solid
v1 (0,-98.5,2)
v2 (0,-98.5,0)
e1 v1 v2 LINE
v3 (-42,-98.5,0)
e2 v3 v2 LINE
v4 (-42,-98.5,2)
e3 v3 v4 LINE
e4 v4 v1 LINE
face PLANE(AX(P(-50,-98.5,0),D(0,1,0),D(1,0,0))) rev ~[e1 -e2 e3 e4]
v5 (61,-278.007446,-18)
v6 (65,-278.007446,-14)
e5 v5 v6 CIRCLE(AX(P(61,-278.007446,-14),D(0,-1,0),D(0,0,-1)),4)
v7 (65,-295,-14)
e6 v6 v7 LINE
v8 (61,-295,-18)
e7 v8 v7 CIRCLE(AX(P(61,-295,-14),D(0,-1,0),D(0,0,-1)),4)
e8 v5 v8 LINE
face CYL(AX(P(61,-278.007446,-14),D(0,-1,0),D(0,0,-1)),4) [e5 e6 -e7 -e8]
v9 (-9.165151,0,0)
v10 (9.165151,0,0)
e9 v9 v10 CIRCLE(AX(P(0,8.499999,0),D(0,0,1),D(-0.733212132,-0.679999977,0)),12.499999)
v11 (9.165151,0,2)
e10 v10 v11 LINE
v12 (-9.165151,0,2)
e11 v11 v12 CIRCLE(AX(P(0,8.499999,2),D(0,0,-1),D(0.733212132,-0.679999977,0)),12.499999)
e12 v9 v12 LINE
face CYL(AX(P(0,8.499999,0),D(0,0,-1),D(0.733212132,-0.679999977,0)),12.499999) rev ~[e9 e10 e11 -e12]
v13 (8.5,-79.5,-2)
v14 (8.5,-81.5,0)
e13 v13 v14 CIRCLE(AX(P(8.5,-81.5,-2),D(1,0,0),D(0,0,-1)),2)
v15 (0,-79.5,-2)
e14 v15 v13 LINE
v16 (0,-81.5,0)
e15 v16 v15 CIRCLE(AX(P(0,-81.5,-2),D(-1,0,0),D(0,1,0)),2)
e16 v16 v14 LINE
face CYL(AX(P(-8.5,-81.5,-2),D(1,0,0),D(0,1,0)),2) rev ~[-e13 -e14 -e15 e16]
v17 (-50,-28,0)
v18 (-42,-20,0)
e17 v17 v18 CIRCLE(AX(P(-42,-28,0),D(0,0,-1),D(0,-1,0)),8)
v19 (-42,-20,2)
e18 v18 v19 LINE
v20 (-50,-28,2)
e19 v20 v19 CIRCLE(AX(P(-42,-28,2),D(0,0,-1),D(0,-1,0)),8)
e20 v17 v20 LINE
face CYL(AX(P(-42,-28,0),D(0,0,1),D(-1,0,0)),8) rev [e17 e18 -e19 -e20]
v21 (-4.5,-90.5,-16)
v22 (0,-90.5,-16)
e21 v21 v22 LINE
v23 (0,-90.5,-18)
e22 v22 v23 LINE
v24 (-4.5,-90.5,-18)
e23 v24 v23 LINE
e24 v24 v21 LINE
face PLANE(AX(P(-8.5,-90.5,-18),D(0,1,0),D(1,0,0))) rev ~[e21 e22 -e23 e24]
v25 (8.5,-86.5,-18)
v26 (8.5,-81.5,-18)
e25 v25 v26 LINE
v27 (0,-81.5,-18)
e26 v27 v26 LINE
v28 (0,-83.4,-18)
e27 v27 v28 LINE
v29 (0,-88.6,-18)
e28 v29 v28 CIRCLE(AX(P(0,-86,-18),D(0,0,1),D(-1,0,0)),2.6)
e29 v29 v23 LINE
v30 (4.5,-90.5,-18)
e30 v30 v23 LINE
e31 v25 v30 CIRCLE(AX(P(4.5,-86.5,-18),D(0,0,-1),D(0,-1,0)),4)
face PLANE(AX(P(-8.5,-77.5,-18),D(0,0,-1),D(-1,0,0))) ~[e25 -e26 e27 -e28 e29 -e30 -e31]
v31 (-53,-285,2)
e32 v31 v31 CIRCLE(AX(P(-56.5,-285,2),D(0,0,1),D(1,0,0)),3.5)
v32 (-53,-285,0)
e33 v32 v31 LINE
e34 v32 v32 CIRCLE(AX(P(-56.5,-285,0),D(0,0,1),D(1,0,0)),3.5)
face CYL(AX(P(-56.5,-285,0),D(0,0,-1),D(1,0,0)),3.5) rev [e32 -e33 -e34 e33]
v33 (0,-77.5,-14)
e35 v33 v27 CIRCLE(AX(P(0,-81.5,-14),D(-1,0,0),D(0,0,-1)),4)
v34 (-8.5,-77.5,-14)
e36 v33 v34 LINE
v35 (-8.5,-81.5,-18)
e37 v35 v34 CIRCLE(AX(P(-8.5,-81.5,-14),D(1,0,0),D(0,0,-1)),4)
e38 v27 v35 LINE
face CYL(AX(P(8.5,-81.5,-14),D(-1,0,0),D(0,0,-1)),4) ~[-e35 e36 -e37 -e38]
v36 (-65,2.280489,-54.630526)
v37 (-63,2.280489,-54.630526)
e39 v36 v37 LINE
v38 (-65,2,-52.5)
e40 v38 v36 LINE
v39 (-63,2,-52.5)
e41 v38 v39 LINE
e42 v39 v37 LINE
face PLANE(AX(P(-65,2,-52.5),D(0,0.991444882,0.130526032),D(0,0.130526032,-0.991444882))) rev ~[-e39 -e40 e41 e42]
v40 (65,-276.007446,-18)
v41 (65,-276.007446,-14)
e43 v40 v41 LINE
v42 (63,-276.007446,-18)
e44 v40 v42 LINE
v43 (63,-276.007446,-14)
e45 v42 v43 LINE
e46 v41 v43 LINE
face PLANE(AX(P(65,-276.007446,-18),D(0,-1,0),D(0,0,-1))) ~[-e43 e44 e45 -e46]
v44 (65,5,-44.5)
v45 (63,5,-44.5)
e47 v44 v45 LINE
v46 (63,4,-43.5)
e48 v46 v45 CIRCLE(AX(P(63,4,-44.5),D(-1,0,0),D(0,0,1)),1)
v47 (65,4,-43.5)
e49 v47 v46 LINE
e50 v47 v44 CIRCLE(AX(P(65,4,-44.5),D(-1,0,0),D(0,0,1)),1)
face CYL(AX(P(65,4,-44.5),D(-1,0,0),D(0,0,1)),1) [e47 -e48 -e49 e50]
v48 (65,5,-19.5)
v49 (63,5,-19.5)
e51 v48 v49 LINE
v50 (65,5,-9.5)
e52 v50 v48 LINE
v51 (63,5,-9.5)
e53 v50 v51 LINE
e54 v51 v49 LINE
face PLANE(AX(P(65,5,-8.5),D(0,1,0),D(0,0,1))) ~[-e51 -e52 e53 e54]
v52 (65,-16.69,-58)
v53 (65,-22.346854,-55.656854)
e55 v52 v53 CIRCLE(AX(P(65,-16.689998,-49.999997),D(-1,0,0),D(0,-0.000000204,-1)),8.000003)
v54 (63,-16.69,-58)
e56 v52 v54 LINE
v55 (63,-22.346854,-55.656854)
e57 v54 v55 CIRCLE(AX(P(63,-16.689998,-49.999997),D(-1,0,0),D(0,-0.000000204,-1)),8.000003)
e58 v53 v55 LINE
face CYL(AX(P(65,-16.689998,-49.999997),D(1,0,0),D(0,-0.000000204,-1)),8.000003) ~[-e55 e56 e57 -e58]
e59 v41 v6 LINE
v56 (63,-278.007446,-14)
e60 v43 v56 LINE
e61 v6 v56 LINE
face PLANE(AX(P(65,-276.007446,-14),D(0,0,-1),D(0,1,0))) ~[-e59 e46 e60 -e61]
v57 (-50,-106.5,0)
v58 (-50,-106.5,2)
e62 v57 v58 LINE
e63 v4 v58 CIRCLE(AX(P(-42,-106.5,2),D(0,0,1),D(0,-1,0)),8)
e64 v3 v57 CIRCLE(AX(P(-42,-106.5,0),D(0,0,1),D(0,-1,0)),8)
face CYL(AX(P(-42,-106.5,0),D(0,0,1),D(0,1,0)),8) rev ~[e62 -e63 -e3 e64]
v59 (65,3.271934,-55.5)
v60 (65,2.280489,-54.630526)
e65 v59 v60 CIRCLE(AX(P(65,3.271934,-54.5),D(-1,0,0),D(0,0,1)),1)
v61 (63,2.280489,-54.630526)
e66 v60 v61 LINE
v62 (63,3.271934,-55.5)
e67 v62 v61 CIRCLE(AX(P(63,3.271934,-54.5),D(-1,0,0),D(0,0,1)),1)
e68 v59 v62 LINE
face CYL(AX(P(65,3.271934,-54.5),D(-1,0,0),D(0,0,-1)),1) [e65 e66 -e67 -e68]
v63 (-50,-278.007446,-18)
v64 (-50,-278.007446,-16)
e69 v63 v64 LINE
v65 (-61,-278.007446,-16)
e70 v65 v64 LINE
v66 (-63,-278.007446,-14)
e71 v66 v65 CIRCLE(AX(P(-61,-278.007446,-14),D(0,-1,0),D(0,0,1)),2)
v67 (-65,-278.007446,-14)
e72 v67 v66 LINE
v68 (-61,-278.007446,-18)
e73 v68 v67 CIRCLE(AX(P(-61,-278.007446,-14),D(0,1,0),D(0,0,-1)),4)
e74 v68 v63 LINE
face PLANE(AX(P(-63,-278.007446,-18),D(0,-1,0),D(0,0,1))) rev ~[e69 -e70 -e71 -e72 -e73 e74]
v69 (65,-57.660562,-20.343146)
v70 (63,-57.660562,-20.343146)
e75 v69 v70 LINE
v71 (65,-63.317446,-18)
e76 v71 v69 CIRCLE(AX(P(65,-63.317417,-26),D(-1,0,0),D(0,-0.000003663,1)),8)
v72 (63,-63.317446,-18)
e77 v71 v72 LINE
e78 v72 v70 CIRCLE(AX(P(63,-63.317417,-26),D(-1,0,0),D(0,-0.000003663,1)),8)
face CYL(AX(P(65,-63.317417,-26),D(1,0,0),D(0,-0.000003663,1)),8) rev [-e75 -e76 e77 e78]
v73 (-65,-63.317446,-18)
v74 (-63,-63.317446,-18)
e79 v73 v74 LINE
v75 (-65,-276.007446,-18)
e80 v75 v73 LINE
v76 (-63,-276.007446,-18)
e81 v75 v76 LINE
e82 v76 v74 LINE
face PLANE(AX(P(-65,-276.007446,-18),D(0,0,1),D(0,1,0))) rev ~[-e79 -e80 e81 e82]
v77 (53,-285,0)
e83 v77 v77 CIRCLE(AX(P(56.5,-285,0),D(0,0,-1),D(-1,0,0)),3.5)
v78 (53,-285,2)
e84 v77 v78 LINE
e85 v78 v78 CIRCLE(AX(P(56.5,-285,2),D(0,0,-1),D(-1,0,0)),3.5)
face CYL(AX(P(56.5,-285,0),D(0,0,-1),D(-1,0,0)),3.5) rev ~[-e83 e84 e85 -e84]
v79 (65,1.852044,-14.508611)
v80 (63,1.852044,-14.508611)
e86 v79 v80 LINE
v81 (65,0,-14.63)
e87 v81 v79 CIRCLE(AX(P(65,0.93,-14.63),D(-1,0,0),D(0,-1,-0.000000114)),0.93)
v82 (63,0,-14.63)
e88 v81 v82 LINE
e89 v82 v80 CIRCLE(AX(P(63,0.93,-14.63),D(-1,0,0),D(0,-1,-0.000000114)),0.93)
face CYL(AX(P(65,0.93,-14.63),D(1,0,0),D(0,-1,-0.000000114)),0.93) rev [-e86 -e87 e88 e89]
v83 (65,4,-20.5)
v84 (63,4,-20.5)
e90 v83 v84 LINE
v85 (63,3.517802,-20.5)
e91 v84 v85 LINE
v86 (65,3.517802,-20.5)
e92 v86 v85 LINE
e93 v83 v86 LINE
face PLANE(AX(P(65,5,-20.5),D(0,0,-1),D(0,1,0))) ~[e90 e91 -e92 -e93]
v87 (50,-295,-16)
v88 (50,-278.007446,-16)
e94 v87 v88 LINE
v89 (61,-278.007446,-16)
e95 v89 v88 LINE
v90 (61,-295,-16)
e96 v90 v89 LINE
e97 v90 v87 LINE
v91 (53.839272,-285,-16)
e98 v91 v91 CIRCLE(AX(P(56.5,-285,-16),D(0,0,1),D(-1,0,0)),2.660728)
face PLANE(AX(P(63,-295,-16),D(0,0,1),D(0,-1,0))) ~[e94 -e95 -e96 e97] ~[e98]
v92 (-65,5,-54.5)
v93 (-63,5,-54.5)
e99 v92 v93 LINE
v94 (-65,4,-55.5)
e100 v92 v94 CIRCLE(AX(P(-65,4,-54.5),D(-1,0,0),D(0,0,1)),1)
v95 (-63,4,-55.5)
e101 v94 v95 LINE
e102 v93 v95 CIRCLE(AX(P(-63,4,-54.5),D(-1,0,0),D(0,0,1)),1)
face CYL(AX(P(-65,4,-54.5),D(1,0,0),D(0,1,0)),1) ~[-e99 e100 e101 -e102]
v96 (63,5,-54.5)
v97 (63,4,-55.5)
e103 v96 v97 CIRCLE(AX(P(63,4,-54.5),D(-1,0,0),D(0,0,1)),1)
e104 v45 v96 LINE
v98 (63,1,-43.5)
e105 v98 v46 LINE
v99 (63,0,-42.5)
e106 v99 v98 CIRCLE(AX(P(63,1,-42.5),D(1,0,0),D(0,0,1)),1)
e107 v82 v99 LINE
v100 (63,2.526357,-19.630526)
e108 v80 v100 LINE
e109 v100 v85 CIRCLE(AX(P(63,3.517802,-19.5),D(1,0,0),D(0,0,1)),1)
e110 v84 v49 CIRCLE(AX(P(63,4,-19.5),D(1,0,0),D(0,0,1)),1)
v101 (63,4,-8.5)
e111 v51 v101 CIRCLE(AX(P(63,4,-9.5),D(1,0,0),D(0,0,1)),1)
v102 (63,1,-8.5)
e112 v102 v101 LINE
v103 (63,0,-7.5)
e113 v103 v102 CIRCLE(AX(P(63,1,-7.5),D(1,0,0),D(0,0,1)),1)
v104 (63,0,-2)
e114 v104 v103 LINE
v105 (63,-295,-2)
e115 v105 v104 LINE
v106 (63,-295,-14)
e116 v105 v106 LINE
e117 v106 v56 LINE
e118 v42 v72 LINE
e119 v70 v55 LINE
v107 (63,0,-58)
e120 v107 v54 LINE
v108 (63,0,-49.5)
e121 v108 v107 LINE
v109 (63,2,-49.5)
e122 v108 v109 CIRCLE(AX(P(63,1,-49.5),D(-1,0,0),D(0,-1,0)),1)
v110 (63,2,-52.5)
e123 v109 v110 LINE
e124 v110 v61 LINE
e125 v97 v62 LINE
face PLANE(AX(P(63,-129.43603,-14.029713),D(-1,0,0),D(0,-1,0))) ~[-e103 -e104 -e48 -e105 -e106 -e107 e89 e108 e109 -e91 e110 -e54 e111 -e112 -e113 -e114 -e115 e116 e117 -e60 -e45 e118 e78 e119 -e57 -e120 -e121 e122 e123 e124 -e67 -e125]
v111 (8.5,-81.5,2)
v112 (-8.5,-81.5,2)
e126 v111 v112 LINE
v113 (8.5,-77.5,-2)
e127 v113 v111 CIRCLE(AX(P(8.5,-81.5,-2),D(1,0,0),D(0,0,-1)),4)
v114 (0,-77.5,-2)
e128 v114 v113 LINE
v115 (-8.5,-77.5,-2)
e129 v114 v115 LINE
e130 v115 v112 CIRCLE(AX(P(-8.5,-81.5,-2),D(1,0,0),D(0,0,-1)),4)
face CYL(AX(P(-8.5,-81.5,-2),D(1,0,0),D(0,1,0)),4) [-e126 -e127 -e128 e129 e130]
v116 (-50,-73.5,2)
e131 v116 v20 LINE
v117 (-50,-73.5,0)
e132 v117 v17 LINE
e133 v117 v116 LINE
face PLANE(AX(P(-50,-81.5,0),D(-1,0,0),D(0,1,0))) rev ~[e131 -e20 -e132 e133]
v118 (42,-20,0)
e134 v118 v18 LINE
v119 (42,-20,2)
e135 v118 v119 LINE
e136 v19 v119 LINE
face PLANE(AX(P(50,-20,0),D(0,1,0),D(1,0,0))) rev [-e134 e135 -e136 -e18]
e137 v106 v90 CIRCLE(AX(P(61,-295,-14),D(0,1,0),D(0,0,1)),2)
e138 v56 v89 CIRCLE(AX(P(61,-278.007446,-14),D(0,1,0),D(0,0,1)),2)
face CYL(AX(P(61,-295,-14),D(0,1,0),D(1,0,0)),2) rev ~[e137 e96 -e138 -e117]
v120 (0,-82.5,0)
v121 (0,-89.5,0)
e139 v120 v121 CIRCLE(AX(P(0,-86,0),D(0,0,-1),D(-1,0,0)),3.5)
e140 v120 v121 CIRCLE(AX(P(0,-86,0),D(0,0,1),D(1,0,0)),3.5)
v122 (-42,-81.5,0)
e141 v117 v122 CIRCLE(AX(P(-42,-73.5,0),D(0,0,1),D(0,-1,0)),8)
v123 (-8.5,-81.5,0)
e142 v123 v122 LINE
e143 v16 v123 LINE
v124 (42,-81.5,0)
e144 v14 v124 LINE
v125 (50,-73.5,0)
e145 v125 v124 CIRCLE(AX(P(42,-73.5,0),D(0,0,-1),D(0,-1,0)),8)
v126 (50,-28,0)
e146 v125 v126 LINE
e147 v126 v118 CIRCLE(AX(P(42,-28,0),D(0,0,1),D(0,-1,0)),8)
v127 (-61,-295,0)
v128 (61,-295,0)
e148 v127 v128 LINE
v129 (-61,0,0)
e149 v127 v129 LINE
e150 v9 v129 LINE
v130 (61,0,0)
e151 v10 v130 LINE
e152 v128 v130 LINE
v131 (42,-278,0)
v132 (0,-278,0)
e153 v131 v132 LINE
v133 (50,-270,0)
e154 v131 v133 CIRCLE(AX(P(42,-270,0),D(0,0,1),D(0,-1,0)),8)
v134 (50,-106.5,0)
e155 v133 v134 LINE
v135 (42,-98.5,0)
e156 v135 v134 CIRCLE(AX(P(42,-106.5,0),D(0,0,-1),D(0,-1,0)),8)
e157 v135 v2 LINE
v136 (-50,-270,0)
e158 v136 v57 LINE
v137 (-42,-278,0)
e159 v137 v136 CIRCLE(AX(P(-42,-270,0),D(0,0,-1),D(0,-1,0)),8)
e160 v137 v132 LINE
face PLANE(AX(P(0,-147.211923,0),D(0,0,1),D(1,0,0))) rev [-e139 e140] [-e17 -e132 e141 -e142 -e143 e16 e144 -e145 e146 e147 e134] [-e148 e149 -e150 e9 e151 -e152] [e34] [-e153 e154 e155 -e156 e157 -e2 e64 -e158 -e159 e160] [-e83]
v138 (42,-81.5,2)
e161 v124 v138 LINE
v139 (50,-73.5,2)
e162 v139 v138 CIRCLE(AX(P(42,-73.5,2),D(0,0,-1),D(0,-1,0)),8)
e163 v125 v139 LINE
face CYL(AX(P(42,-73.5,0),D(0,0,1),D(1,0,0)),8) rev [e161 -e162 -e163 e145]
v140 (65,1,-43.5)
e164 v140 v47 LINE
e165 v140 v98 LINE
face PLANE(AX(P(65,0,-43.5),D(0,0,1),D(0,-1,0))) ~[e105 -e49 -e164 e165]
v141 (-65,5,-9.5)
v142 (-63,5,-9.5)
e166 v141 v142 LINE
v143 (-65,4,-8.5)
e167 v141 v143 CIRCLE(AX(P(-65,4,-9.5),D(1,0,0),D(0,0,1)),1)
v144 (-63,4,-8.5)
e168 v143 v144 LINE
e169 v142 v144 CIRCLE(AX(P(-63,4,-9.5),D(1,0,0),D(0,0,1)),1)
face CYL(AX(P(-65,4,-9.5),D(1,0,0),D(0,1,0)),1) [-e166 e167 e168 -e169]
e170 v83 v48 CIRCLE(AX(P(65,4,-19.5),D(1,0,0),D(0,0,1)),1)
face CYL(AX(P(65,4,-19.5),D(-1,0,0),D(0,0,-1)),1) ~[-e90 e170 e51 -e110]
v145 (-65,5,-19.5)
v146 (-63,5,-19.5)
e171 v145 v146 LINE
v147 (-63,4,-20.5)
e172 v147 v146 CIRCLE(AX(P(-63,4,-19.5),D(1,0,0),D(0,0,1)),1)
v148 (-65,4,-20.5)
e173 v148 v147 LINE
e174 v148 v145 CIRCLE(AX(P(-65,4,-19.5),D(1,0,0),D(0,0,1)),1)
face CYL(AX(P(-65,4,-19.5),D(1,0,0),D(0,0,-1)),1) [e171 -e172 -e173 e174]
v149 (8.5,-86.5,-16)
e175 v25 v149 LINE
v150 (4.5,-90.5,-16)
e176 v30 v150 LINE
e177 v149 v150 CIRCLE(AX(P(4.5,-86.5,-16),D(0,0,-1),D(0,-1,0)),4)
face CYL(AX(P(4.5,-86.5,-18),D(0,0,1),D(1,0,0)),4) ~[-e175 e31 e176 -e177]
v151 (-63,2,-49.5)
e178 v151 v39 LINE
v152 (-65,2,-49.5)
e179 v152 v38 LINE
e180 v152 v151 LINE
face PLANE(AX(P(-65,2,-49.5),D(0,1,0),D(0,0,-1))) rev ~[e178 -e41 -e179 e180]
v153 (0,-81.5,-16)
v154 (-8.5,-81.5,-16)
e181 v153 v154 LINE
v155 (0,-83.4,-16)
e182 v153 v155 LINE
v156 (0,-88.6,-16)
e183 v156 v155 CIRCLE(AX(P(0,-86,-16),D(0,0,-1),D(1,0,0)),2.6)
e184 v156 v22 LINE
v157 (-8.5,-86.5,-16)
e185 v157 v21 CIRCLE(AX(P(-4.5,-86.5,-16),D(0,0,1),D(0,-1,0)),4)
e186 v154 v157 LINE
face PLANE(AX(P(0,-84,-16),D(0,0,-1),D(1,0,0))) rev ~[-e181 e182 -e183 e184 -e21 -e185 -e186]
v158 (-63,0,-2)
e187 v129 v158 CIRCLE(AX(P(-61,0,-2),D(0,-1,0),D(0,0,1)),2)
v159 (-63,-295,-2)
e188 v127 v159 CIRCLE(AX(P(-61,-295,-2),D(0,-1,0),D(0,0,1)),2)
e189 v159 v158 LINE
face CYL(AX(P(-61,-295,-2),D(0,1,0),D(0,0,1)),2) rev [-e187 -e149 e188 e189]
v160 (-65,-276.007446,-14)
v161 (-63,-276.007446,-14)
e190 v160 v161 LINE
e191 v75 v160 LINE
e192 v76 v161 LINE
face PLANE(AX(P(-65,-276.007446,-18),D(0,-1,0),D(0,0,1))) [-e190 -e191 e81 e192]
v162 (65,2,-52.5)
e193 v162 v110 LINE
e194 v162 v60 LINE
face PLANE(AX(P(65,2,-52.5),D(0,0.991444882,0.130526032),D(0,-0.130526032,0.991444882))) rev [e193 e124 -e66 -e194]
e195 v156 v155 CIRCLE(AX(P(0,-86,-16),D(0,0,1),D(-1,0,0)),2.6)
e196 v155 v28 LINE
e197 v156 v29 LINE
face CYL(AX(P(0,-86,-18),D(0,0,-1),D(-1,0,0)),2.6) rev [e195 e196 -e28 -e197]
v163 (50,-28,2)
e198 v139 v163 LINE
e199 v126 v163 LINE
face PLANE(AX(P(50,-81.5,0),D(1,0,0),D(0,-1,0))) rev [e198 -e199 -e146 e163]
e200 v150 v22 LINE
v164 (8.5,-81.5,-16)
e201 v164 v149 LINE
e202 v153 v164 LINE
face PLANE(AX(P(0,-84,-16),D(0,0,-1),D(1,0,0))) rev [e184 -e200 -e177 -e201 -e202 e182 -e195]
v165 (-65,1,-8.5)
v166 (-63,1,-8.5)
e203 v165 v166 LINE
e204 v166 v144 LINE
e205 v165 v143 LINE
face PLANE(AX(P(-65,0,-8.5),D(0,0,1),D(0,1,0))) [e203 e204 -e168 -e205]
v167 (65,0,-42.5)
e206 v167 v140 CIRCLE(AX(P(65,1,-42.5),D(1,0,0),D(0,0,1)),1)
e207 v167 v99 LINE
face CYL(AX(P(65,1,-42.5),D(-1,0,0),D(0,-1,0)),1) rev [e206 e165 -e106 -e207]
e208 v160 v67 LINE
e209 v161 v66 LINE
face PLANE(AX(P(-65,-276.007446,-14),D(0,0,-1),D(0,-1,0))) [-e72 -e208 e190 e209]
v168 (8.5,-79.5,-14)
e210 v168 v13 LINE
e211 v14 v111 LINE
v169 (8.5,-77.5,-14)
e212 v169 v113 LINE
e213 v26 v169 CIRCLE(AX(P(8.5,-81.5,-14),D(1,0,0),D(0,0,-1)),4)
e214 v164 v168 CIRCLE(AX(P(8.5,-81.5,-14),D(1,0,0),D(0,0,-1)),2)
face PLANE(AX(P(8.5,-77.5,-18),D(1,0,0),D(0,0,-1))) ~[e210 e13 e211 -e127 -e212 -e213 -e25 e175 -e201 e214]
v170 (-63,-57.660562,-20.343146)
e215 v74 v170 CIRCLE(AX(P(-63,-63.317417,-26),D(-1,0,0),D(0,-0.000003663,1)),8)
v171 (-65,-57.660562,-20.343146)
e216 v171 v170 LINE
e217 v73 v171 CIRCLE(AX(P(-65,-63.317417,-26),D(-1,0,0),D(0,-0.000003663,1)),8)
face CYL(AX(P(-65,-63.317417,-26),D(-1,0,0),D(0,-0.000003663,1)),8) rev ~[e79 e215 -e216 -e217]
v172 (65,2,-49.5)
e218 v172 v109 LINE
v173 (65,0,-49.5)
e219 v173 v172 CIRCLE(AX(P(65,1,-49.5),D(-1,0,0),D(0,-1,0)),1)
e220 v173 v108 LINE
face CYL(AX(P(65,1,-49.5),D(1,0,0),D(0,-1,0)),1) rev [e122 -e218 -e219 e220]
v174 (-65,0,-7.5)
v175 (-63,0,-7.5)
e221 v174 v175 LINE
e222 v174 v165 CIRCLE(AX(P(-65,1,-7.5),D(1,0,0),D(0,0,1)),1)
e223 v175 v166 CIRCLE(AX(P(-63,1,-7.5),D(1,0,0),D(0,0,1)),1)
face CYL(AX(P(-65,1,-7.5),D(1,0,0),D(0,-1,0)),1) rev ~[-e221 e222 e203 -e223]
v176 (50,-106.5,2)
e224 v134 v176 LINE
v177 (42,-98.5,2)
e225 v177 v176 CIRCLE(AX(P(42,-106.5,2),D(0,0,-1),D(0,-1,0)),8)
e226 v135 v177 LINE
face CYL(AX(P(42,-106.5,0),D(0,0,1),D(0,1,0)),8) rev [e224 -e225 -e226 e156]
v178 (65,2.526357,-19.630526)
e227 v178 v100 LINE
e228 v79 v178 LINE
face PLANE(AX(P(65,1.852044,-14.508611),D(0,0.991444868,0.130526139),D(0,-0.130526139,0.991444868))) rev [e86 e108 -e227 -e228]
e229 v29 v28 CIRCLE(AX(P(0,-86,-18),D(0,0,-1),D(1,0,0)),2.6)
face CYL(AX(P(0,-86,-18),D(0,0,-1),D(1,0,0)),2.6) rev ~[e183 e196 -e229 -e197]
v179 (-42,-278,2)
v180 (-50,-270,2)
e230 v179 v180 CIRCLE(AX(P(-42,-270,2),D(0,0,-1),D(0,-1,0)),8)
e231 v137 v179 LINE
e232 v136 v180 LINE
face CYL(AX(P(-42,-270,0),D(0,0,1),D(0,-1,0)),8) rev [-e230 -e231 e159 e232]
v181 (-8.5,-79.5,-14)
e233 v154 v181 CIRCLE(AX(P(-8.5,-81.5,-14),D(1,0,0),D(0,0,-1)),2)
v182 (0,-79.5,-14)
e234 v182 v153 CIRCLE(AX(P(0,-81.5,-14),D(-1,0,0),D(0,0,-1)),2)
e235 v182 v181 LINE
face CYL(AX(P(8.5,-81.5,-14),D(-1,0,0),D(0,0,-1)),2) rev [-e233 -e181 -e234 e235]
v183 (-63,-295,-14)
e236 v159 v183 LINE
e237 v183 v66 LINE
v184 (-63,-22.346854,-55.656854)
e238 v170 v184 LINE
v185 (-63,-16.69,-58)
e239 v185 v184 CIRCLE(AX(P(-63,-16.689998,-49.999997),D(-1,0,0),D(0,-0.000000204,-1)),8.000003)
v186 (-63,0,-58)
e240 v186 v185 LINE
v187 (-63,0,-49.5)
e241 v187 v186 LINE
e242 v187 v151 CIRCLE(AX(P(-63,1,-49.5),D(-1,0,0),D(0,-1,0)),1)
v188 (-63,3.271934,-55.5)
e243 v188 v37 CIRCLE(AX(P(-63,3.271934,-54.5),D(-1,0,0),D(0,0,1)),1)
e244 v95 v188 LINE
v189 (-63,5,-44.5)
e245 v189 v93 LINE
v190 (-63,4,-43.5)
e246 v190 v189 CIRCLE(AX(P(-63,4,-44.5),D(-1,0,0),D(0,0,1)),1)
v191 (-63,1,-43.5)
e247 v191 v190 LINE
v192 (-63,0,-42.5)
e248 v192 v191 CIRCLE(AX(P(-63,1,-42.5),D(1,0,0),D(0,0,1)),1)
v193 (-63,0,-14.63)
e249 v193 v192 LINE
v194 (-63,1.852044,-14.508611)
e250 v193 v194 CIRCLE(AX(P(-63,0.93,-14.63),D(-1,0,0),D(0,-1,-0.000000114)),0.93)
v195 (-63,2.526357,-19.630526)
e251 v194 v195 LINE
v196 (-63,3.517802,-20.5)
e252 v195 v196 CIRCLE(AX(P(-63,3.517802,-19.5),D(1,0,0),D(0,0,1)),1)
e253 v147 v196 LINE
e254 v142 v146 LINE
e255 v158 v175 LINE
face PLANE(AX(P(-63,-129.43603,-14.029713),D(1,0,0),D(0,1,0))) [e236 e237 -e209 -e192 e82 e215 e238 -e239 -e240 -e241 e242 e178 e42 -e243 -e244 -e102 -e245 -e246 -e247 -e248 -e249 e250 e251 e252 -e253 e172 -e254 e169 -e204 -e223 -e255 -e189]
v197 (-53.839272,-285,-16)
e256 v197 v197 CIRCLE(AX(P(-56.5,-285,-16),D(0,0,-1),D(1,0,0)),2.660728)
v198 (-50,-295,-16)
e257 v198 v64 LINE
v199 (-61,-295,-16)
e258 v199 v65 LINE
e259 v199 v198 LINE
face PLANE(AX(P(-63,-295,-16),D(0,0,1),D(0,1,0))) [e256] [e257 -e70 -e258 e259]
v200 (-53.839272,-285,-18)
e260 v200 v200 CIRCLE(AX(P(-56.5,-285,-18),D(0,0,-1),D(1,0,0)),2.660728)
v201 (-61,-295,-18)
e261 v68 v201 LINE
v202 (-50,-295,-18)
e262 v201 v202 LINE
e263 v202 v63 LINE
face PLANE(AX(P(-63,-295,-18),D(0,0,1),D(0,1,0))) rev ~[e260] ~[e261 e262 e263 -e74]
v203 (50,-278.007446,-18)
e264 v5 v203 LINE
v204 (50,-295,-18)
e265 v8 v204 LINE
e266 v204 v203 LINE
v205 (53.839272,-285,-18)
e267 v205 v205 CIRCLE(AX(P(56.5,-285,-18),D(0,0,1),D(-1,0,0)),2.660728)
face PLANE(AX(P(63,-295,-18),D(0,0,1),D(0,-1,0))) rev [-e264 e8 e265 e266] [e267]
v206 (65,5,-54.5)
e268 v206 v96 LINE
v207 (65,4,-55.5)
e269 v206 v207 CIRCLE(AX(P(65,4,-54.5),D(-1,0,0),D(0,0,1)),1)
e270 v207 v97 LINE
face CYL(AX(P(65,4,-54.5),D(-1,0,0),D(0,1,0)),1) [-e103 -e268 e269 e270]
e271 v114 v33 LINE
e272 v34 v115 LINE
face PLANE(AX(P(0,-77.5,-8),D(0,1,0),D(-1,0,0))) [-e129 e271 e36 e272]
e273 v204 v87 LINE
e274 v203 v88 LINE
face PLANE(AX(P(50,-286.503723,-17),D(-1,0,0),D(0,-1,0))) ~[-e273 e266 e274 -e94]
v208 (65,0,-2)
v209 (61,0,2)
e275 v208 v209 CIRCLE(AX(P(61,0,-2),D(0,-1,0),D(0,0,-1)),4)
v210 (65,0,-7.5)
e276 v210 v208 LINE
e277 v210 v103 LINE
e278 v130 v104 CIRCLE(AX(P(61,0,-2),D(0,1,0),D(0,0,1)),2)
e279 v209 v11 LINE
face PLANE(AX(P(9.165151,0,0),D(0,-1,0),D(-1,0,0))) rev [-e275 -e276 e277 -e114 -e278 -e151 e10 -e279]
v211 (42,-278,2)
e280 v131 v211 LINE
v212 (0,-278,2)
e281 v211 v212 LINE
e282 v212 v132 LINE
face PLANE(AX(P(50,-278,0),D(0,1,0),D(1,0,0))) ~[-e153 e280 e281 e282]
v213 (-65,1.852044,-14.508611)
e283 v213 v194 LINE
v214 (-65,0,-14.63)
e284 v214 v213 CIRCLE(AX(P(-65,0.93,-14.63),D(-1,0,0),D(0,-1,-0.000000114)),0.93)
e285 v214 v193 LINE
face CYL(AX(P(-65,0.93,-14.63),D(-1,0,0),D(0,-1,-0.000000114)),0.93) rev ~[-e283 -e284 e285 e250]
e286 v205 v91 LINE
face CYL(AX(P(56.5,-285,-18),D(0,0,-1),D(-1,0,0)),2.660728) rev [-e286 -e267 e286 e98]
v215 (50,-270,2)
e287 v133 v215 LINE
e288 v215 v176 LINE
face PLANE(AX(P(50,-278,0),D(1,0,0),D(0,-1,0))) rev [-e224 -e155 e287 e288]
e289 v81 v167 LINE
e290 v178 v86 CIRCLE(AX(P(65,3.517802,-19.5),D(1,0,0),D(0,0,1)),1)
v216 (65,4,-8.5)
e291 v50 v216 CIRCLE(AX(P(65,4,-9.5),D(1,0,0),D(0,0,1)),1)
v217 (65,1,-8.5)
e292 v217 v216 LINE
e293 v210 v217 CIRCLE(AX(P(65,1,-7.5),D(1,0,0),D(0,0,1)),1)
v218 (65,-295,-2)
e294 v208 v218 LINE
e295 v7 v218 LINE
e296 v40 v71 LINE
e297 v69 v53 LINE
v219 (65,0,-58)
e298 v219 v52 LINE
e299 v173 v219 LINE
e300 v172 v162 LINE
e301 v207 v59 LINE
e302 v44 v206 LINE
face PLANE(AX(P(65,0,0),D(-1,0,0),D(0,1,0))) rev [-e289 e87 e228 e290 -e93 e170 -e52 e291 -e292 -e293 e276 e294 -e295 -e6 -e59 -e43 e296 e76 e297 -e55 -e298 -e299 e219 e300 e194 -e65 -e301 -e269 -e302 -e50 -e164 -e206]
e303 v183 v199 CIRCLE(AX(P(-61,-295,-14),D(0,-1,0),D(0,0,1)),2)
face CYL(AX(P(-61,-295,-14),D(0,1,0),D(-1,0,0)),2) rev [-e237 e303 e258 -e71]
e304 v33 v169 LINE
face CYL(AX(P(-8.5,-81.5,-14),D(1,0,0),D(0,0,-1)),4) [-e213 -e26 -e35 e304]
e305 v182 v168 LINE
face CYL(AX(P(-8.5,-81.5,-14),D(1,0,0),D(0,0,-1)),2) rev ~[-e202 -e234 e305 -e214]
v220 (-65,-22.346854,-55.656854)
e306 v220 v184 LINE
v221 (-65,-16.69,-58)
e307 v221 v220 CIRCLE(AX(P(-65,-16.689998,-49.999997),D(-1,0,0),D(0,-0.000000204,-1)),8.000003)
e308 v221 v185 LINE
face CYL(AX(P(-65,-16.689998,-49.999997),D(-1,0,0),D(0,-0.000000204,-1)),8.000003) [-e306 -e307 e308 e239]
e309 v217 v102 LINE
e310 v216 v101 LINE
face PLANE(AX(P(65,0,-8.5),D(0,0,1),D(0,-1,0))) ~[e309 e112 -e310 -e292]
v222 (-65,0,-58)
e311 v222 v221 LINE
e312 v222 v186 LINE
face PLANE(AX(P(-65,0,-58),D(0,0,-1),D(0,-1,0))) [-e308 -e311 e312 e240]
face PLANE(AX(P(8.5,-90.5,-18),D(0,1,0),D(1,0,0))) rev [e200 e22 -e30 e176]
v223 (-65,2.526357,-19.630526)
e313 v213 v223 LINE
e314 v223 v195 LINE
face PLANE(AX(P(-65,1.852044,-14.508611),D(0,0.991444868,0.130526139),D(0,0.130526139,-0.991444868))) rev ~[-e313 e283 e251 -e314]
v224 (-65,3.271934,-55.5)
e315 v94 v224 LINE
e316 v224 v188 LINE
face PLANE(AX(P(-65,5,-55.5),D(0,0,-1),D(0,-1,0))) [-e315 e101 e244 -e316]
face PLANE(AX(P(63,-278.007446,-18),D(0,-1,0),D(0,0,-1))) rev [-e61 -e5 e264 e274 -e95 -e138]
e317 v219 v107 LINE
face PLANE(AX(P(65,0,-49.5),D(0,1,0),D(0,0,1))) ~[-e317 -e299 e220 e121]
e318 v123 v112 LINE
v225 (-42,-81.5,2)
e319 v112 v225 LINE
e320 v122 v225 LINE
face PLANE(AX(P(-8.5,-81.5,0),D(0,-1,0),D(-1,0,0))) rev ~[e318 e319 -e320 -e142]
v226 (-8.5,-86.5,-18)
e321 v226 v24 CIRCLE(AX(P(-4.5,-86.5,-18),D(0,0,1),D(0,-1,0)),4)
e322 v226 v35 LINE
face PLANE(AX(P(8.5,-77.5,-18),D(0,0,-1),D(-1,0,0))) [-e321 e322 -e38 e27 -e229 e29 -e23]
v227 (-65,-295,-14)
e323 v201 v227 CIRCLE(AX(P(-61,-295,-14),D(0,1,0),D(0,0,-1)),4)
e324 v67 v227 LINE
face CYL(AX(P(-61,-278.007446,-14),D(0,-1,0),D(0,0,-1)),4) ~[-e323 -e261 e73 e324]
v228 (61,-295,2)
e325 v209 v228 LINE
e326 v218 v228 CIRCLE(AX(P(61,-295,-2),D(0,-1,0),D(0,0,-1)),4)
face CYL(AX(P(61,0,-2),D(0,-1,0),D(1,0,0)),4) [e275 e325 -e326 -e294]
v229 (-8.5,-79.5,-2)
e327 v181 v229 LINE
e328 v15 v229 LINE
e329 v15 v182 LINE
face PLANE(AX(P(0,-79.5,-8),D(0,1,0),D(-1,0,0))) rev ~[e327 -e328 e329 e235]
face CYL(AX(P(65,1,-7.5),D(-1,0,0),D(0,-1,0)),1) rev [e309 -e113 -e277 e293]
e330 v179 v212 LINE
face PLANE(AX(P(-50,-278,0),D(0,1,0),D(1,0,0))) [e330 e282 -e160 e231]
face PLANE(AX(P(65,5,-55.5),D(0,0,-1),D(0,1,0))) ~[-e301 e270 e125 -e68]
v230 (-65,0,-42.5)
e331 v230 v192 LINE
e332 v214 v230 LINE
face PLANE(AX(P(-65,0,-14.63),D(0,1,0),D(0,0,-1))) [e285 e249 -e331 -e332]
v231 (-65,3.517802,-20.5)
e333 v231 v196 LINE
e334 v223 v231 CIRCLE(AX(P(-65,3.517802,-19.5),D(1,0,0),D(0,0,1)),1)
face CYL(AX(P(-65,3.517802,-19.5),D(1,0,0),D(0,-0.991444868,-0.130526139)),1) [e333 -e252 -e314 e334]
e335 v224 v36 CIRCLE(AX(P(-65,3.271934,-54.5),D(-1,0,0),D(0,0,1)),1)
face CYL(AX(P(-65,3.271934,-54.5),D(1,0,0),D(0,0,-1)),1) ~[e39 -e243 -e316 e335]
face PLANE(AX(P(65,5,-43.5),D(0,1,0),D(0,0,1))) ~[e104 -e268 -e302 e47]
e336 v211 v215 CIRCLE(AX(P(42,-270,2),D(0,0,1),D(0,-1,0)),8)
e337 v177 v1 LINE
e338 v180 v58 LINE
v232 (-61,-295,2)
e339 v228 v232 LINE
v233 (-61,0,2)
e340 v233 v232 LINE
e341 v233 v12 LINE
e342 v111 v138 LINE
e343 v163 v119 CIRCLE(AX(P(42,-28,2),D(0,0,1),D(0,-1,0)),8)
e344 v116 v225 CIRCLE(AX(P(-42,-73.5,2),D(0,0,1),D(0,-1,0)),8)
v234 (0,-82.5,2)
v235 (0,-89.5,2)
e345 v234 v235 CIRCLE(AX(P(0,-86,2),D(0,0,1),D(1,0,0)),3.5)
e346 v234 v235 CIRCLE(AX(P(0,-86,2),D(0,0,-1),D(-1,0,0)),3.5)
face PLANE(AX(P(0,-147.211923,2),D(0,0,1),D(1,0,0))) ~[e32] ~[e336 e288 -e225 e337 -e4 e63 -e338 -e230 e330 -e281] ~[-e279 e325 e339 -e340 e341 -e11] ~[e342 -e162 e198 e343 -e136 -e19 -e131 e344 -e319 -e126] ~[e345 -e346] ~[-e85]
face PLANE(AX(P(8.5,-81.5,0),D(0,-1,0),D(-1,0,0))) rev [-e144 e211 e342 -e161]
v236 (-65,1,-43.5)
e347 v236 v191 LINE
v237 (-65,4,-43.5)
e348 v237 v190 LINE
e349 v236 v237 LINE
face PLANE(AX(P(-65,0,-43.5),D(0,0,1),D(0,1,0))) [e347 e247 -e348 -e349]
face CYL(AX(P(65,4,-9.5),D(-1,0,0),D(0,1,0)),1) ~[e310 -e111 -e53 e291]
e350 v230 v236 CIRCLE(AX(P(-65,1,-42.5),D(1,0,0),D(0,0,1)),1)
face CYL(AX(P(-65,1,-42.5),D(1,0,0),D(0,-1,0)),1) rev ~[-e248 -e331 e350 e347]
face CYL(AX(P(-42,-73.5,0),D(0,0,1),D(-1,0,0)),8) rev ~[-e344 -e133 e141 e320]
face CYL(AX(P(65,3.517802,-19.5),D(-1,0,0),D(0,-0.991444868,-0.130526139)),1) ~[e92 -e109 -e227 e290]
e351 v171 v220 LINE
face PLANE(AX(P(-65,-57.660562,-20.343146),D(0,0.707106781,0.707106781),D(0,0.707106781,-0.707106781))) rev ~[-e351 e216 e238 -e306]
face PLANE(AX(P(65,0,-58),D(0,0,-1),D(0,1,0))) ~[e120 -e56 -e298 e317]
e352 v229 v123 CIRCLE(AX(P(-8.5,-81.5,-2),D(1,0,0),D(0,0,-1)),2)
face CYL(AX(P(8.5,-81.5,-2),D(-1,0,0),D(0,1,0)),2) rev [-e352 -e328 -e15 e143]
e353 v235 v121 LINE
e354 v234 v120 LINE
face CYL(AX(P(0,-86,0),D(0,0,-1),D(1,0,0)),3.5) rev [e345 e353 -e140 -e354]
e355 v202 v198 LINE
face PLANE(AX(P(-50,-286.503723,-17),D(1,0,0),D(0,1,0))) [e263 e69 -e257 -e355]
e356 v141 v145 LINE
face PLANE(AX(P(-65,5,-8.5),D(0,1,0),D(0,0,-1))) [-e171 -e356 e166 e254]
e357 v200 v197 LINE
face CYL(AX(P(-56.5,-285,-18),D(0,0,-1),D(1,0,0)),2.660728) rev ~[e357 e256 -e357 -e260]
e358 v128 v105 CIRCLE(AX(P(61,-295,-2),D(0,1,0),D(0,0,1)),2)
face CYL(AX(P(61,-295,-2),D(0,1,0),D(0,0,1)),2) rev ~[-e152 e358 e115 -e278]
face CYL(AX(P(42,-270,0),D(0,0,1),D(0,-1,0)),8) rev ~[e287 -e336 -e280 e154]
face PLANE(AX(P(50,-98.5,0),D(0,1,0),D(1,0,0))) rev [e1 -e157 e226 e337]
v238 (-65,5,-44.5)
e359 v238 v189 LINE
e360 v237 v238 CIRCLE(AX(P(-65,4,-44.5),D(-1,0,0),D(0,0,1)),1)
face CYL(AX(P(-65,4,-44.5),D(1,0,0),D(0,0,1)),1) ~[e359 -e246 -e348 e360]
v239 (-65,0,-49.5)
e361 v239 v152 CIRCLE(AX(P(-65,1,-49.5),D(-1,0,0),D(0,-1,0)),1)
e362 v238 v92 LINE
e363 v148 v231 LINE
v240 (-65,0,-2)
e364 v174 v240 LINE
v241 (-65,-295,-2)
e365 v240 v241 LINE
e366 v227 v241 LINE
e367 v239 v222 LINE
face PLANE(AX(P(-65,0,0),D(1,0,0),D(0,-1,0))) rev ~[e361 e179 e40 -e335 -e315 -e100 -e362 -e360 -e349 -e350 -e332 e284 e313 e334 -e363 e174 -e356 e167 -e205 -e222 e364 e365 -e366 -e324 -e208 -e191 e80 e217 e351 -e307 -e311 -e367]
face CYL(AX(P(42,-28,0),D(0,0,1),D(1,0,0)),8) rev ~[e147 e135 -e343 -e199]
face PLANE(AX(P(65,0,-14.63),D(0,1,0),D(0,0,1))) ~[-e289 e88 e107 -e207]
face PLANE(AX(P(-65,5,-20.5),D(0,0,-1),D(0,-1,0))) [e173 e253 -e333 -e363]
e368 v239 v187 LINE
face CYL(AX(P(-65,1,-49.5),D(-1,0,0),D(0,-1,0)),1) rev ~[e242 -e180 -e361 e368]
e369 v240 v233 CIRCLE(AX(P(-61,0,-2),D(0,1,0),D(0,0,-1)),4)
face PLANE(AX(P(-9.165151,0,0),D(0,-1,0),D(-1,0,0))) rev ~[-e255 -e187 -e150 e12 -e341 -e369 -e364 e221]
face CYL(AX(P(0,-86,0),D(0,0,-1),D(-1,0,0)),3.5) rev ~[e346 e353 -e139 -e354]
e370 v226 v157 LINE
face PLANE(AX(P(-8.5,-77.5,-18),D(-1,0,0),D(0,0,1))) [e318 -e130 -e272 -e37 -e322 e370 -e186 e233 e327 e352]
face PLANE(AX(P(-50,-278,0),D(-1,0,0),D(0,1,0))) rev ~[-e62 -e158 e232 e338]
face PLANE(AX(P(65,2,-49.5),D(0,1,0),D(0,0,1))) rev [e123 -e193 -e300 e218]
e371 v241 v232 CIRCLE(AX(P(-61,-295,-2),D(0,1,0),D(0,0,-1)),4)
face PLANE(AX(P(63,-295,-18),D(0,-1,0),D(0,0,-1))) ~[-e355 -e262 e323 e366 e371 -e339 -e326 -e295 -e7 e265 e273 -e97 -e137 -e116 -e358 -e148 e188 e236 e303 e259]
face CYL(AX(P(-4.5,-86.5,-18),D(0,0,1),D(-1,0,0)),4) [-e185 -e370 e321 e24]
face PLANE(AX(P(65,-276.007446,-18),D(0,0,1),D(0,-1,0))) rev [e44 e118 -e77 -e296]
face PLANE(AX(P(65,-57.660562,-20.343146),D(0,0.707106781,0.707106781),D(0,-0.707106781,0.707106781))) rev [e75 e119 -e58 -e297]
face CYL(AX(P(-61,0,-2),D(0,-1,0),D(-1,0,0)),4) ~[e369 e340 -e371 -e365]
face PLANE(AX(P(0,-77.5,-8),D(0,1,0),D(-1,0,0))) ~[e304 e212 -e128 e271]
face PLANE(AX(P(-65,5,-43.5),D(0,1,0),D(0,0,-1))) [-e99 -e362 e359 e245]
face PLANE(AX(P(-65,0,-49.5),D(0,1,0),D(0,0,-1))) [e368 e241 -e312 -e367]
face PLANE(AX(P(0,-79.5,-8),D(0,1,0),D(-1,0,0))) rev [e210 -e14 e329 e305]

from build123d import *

# Parameters (mm, degrees)
SKETCH006_W  = 320
SKETCH006_H  = 150
PAD005_DEPTH = 70
SKETCH_R     = 3.5
SKETCH_W     = 100
SKETCH_H     = 179.5
PAD_DEPTH    = 2
FILLET_R     = 8
SKETCH001_W  = 17
SKETCH001_H  = 20
PAD001_DEPTH = 2
SKETCH002_W  = 17
SKETCH002_H  = 13
SKETCH002_R  = 2.6
PAD002_DEPTH = 2
FILLET001_R  = 4
FILLET002_R  = 4
FILLET003_R  = 2
PAD003_DEPTH = 2
FILLET004_R  = 1
FILLET005_R  = 1
SKETCH004_W  = 16.992554
SKETCH004_H  = 2
PAD004_DEPTH = 13
FILLET006_R  = 2
FILLET007_R  = 4
SKETCH005_R  = 2.660728
POCKET_DEPTH = 5


with BuildPart() as pad005:
    # Sketch006 → Pad005 (new body)
    with BuildSketch(Plane.YZ):
        with Locations((-150, -15)):
            Rectangle(SKETCH006_W, SKETCH006_H)
    extrude(amount=PAD005_DEPTH)


with BuildPart() as cut:
    # Sketch → Pad (new body)
    with BuildSketch(Plane.XY):
        with BuildLine():
            Line((-65, 0), (-65, -295))
            Line((-65, -295), (65, -295))
            Line((65, -295), (65, 0))
            Line((9.165151, 0), (65, 0))
            ThreePointArc((-9.165151, 0), (0, -4), (9.165151, 0))
            Line((-9.165151, 0), (-65, 0))
        make_face()
        with Locations((0, -86)):
            Circle(SKETCH_R, mode=Mode.SUBTRACT)
        with Locations((-56.5, -285)):
            Circle(SKETCH_R, mode=Mode.SUBTRACT)
        with Locations((56.5, -285)):
            Circle(SKETCH_R, mode=Mode.SUBTRACT)
        Polygon((-50, -20), (50, -20), (50, -81.5), (8.5, -81.5), (8.5, -77.5), (-8.5, -77.5), (-8.5, -81.5), (-50, -81.5), align=None, mode=Mode.SUBTRACT)
        with Locations((0, -188.25)):
            Rectangle(SKETCH_W, SKETCH_H, mode=Mode.SUBTRACT)
    extrude(amount=PAD_DEPTH)

    # Fillet
    fillet_edges = [cut.edges().sort_by_distance(p)[0] for p in [
        (-50, -20, 1),
        (-50, -98.5, 1),
        (50, -98.5, 1),
        (50, -20, 1),
        (-50, -81.5, 1),
        (50, -81.5, 1),
        (50, -278, 1),
        (-50, -278, 1),
    ]]
    fillet(fillet_edges, radius=FILLET_R)

    # Sketch001 → Pad001 (new body)
    with BuildSketch(Plane(origin=(0, -77.5, 0), x_dir=(-1, 0, 0), z_dir=(0, 1, 0))):
        with Locations((0, -8)):
            Rectangle(SKETCH001_W, SKETCH001_H)
    extrude(amount=-PAD001_DEPTH)

    # Sketch002 → Pad002 (new body)
    with BuildSketch(Plane(origin=(0, 0, -18), x_dir=(1, 0, 0), z_dir=(0, 0, -1))):
        with Locations((0, 84)):
            Rectangle(SKETCH002_W, SKETCH002_H)
        with Locations((0, 86)):
            Circle(SKETCH002_R, mode=Mode.SUBTRACT)
    extrude(amount=-PAD002_DEPTH)

    # Fillet001
    fillet001_edges = [cut.edges().sort_by_distance(p)[0] for p in [
        (8.5, -90.5, -17),
        (-8.5, -90.5, -17),
    ]]
    fillet(fillet001_edges, radius=FILLET001_R)

    # Fillet002
    fillet002_edges = [cut.edges().sort_by_distance(p)[0] for p in [
        (0, -77.5, -18),
        (0, -77.5, 2),
    ]]
    fillet(fillet002_edges, radius=FILLET002_R)

    # Fillet003
    fillet003_edges = [cut.edges().sort_by_distance(p)[0] for p in [
        (0, -79.5, 0),
        (0, -79.5, -16),
    ]]
    fillet(fillet003_edges, radius=FILLET003_R)

    # Sketch003 → Pad003 (new body)
    with BuildSketch(Plane(origin=(-65, 0, 0), x_dir=(0, -1, 0), z_dir=(-1, 0, 0))):
        with BuildLine():
            Line((0, 2), (295, 2))
            Line((295, 2), (295, -18))
            Line((278.007446, -18), (295, -18))
            Line((278.007446, -14), (278.007446, -18))
            Line((276.007446, -14), (278.007446, -14))
            Line((276.007446, -18), (276.007446, -14))
            Line((276.007446, -18), (63.317446, -18))
            ThreePointArc((63.317446, -18), (60.255963, -18.608958), (57.660562, -20.343146))
            Line((57.660562, -20.343146), (22.346854, -55.656854))
            ThreePointArc((16.69, -58), (19.751467, -57.391036), (22.346854, -55.656854))
            Line((0, -58), (16.69, -58))
            Line((0, -49.5), (0, -58))
            ThreePointArc((0, -49.5), (-1, -48.5), (-2, -49.5))
            Line((-2, -49.5), (-2, -52.5))
            Line((-2, -52.5), (-2.394957, -55.5))
            Line((-5, -55.5), (-2.394957, -55.5))
            Line((-5, -43.5), (-5, -55.5))
            Line((0, -43.5), (-5, -43.5))
            Line((0, -14.63), (0, -43.5))
            ThreePointArc((0, -14.63), (-0.869175, -13.701991), (-1.852044, -14.508611))
            Line((-1.852044, -14.508611), (-2.640825, -20.5))
            Line((-5, -20.5), (-2.640825, -20.5))
            Line((-5, -8.5), (-5, -20.5))
            Line((0, -8.5), (-5, -8.5))
            Line((0, 2), (0, -8.5))
        make_face()
    extrude(amount=-PAD003_DEPTH)

    # Fillet004
    fillet004_edges = [cut.edges().sort_by_distance(p)[0] for p in [
        (-64, 2.640825, -20.5),
        (-64, 5, -20.5),
        (-64, 5, -8.5),
        (-64, 0, -8.5),
    ]]
    fillet(fillet004_edges, radius=FILLET004_R)

    # Fillet005
    fillet005_edges = [cut.edges().sort_by_distance(p)[0] for p in [
        (-64, 0, -43.5),
        (-64, 5, -43.5),
        (-64, 5, -55.5),
        (-64, 2.394957, -55.5),
    ]]
    fillet(fillet005_edges, radius=FILLET005_R)

    # Sketch004 → Pad004 (new body)
    with BuildSketch(Plane.YZ.offset(-63)):
        with Locations((-286.503723, -17)):
            Rectangle(SKETCH004_W, SKETCH004_H)
    extrude(amount=PAD004_DEPTH)

    # Fillet006
    fillet006_edges = [cut.edges().sort_by_distance(p)[0] for p in [
        (-63, -286.503723, -16),
        (-63, -147.5, 0),
    ]]
    fillet(fillet006_edges, radius=FILLET006_R)

    # Fillet007
    fillet007_edges = [cut.edges().sort_by_distance(p)[0] for p in [
        (-65, -286.503723, -18),
        (-65, -147.5, 2),
    ]]
    fillet(fillet007_edges, radius=FILLET007_R)

    # Sketch005 → Pocket (cut)
    with BuildSketch(Plane(origin=(0, 0, -18), x_dir=(1, 0, 0), z_dir=(0, 0, -1))):
        with Locations((-56.5, 285)):
            Circle(SKETCH005_R)
    extrude(amount=-POCKET_DEPTH, mode=Mode.SUBTRACT)

    # Cut: cut Pad005
    add(pad005.part, mode=Mode.SUBTRACT)


with BuildPart() as part_mirroring:
    # Part__Mirroring: instance of Cut
    add(cut.part.mirror(Plane(origin=(0, 0, 0), x_dir=(0, -1, 0), z_dir=(1, 0, 0))))


with BuildPart() as fusion:
    # Fusion base: copy of Cut
    add(cut.part)

    # Fusion: union Part__Mirroring
    add(part_mirroring.part)


solid = fusion.part
